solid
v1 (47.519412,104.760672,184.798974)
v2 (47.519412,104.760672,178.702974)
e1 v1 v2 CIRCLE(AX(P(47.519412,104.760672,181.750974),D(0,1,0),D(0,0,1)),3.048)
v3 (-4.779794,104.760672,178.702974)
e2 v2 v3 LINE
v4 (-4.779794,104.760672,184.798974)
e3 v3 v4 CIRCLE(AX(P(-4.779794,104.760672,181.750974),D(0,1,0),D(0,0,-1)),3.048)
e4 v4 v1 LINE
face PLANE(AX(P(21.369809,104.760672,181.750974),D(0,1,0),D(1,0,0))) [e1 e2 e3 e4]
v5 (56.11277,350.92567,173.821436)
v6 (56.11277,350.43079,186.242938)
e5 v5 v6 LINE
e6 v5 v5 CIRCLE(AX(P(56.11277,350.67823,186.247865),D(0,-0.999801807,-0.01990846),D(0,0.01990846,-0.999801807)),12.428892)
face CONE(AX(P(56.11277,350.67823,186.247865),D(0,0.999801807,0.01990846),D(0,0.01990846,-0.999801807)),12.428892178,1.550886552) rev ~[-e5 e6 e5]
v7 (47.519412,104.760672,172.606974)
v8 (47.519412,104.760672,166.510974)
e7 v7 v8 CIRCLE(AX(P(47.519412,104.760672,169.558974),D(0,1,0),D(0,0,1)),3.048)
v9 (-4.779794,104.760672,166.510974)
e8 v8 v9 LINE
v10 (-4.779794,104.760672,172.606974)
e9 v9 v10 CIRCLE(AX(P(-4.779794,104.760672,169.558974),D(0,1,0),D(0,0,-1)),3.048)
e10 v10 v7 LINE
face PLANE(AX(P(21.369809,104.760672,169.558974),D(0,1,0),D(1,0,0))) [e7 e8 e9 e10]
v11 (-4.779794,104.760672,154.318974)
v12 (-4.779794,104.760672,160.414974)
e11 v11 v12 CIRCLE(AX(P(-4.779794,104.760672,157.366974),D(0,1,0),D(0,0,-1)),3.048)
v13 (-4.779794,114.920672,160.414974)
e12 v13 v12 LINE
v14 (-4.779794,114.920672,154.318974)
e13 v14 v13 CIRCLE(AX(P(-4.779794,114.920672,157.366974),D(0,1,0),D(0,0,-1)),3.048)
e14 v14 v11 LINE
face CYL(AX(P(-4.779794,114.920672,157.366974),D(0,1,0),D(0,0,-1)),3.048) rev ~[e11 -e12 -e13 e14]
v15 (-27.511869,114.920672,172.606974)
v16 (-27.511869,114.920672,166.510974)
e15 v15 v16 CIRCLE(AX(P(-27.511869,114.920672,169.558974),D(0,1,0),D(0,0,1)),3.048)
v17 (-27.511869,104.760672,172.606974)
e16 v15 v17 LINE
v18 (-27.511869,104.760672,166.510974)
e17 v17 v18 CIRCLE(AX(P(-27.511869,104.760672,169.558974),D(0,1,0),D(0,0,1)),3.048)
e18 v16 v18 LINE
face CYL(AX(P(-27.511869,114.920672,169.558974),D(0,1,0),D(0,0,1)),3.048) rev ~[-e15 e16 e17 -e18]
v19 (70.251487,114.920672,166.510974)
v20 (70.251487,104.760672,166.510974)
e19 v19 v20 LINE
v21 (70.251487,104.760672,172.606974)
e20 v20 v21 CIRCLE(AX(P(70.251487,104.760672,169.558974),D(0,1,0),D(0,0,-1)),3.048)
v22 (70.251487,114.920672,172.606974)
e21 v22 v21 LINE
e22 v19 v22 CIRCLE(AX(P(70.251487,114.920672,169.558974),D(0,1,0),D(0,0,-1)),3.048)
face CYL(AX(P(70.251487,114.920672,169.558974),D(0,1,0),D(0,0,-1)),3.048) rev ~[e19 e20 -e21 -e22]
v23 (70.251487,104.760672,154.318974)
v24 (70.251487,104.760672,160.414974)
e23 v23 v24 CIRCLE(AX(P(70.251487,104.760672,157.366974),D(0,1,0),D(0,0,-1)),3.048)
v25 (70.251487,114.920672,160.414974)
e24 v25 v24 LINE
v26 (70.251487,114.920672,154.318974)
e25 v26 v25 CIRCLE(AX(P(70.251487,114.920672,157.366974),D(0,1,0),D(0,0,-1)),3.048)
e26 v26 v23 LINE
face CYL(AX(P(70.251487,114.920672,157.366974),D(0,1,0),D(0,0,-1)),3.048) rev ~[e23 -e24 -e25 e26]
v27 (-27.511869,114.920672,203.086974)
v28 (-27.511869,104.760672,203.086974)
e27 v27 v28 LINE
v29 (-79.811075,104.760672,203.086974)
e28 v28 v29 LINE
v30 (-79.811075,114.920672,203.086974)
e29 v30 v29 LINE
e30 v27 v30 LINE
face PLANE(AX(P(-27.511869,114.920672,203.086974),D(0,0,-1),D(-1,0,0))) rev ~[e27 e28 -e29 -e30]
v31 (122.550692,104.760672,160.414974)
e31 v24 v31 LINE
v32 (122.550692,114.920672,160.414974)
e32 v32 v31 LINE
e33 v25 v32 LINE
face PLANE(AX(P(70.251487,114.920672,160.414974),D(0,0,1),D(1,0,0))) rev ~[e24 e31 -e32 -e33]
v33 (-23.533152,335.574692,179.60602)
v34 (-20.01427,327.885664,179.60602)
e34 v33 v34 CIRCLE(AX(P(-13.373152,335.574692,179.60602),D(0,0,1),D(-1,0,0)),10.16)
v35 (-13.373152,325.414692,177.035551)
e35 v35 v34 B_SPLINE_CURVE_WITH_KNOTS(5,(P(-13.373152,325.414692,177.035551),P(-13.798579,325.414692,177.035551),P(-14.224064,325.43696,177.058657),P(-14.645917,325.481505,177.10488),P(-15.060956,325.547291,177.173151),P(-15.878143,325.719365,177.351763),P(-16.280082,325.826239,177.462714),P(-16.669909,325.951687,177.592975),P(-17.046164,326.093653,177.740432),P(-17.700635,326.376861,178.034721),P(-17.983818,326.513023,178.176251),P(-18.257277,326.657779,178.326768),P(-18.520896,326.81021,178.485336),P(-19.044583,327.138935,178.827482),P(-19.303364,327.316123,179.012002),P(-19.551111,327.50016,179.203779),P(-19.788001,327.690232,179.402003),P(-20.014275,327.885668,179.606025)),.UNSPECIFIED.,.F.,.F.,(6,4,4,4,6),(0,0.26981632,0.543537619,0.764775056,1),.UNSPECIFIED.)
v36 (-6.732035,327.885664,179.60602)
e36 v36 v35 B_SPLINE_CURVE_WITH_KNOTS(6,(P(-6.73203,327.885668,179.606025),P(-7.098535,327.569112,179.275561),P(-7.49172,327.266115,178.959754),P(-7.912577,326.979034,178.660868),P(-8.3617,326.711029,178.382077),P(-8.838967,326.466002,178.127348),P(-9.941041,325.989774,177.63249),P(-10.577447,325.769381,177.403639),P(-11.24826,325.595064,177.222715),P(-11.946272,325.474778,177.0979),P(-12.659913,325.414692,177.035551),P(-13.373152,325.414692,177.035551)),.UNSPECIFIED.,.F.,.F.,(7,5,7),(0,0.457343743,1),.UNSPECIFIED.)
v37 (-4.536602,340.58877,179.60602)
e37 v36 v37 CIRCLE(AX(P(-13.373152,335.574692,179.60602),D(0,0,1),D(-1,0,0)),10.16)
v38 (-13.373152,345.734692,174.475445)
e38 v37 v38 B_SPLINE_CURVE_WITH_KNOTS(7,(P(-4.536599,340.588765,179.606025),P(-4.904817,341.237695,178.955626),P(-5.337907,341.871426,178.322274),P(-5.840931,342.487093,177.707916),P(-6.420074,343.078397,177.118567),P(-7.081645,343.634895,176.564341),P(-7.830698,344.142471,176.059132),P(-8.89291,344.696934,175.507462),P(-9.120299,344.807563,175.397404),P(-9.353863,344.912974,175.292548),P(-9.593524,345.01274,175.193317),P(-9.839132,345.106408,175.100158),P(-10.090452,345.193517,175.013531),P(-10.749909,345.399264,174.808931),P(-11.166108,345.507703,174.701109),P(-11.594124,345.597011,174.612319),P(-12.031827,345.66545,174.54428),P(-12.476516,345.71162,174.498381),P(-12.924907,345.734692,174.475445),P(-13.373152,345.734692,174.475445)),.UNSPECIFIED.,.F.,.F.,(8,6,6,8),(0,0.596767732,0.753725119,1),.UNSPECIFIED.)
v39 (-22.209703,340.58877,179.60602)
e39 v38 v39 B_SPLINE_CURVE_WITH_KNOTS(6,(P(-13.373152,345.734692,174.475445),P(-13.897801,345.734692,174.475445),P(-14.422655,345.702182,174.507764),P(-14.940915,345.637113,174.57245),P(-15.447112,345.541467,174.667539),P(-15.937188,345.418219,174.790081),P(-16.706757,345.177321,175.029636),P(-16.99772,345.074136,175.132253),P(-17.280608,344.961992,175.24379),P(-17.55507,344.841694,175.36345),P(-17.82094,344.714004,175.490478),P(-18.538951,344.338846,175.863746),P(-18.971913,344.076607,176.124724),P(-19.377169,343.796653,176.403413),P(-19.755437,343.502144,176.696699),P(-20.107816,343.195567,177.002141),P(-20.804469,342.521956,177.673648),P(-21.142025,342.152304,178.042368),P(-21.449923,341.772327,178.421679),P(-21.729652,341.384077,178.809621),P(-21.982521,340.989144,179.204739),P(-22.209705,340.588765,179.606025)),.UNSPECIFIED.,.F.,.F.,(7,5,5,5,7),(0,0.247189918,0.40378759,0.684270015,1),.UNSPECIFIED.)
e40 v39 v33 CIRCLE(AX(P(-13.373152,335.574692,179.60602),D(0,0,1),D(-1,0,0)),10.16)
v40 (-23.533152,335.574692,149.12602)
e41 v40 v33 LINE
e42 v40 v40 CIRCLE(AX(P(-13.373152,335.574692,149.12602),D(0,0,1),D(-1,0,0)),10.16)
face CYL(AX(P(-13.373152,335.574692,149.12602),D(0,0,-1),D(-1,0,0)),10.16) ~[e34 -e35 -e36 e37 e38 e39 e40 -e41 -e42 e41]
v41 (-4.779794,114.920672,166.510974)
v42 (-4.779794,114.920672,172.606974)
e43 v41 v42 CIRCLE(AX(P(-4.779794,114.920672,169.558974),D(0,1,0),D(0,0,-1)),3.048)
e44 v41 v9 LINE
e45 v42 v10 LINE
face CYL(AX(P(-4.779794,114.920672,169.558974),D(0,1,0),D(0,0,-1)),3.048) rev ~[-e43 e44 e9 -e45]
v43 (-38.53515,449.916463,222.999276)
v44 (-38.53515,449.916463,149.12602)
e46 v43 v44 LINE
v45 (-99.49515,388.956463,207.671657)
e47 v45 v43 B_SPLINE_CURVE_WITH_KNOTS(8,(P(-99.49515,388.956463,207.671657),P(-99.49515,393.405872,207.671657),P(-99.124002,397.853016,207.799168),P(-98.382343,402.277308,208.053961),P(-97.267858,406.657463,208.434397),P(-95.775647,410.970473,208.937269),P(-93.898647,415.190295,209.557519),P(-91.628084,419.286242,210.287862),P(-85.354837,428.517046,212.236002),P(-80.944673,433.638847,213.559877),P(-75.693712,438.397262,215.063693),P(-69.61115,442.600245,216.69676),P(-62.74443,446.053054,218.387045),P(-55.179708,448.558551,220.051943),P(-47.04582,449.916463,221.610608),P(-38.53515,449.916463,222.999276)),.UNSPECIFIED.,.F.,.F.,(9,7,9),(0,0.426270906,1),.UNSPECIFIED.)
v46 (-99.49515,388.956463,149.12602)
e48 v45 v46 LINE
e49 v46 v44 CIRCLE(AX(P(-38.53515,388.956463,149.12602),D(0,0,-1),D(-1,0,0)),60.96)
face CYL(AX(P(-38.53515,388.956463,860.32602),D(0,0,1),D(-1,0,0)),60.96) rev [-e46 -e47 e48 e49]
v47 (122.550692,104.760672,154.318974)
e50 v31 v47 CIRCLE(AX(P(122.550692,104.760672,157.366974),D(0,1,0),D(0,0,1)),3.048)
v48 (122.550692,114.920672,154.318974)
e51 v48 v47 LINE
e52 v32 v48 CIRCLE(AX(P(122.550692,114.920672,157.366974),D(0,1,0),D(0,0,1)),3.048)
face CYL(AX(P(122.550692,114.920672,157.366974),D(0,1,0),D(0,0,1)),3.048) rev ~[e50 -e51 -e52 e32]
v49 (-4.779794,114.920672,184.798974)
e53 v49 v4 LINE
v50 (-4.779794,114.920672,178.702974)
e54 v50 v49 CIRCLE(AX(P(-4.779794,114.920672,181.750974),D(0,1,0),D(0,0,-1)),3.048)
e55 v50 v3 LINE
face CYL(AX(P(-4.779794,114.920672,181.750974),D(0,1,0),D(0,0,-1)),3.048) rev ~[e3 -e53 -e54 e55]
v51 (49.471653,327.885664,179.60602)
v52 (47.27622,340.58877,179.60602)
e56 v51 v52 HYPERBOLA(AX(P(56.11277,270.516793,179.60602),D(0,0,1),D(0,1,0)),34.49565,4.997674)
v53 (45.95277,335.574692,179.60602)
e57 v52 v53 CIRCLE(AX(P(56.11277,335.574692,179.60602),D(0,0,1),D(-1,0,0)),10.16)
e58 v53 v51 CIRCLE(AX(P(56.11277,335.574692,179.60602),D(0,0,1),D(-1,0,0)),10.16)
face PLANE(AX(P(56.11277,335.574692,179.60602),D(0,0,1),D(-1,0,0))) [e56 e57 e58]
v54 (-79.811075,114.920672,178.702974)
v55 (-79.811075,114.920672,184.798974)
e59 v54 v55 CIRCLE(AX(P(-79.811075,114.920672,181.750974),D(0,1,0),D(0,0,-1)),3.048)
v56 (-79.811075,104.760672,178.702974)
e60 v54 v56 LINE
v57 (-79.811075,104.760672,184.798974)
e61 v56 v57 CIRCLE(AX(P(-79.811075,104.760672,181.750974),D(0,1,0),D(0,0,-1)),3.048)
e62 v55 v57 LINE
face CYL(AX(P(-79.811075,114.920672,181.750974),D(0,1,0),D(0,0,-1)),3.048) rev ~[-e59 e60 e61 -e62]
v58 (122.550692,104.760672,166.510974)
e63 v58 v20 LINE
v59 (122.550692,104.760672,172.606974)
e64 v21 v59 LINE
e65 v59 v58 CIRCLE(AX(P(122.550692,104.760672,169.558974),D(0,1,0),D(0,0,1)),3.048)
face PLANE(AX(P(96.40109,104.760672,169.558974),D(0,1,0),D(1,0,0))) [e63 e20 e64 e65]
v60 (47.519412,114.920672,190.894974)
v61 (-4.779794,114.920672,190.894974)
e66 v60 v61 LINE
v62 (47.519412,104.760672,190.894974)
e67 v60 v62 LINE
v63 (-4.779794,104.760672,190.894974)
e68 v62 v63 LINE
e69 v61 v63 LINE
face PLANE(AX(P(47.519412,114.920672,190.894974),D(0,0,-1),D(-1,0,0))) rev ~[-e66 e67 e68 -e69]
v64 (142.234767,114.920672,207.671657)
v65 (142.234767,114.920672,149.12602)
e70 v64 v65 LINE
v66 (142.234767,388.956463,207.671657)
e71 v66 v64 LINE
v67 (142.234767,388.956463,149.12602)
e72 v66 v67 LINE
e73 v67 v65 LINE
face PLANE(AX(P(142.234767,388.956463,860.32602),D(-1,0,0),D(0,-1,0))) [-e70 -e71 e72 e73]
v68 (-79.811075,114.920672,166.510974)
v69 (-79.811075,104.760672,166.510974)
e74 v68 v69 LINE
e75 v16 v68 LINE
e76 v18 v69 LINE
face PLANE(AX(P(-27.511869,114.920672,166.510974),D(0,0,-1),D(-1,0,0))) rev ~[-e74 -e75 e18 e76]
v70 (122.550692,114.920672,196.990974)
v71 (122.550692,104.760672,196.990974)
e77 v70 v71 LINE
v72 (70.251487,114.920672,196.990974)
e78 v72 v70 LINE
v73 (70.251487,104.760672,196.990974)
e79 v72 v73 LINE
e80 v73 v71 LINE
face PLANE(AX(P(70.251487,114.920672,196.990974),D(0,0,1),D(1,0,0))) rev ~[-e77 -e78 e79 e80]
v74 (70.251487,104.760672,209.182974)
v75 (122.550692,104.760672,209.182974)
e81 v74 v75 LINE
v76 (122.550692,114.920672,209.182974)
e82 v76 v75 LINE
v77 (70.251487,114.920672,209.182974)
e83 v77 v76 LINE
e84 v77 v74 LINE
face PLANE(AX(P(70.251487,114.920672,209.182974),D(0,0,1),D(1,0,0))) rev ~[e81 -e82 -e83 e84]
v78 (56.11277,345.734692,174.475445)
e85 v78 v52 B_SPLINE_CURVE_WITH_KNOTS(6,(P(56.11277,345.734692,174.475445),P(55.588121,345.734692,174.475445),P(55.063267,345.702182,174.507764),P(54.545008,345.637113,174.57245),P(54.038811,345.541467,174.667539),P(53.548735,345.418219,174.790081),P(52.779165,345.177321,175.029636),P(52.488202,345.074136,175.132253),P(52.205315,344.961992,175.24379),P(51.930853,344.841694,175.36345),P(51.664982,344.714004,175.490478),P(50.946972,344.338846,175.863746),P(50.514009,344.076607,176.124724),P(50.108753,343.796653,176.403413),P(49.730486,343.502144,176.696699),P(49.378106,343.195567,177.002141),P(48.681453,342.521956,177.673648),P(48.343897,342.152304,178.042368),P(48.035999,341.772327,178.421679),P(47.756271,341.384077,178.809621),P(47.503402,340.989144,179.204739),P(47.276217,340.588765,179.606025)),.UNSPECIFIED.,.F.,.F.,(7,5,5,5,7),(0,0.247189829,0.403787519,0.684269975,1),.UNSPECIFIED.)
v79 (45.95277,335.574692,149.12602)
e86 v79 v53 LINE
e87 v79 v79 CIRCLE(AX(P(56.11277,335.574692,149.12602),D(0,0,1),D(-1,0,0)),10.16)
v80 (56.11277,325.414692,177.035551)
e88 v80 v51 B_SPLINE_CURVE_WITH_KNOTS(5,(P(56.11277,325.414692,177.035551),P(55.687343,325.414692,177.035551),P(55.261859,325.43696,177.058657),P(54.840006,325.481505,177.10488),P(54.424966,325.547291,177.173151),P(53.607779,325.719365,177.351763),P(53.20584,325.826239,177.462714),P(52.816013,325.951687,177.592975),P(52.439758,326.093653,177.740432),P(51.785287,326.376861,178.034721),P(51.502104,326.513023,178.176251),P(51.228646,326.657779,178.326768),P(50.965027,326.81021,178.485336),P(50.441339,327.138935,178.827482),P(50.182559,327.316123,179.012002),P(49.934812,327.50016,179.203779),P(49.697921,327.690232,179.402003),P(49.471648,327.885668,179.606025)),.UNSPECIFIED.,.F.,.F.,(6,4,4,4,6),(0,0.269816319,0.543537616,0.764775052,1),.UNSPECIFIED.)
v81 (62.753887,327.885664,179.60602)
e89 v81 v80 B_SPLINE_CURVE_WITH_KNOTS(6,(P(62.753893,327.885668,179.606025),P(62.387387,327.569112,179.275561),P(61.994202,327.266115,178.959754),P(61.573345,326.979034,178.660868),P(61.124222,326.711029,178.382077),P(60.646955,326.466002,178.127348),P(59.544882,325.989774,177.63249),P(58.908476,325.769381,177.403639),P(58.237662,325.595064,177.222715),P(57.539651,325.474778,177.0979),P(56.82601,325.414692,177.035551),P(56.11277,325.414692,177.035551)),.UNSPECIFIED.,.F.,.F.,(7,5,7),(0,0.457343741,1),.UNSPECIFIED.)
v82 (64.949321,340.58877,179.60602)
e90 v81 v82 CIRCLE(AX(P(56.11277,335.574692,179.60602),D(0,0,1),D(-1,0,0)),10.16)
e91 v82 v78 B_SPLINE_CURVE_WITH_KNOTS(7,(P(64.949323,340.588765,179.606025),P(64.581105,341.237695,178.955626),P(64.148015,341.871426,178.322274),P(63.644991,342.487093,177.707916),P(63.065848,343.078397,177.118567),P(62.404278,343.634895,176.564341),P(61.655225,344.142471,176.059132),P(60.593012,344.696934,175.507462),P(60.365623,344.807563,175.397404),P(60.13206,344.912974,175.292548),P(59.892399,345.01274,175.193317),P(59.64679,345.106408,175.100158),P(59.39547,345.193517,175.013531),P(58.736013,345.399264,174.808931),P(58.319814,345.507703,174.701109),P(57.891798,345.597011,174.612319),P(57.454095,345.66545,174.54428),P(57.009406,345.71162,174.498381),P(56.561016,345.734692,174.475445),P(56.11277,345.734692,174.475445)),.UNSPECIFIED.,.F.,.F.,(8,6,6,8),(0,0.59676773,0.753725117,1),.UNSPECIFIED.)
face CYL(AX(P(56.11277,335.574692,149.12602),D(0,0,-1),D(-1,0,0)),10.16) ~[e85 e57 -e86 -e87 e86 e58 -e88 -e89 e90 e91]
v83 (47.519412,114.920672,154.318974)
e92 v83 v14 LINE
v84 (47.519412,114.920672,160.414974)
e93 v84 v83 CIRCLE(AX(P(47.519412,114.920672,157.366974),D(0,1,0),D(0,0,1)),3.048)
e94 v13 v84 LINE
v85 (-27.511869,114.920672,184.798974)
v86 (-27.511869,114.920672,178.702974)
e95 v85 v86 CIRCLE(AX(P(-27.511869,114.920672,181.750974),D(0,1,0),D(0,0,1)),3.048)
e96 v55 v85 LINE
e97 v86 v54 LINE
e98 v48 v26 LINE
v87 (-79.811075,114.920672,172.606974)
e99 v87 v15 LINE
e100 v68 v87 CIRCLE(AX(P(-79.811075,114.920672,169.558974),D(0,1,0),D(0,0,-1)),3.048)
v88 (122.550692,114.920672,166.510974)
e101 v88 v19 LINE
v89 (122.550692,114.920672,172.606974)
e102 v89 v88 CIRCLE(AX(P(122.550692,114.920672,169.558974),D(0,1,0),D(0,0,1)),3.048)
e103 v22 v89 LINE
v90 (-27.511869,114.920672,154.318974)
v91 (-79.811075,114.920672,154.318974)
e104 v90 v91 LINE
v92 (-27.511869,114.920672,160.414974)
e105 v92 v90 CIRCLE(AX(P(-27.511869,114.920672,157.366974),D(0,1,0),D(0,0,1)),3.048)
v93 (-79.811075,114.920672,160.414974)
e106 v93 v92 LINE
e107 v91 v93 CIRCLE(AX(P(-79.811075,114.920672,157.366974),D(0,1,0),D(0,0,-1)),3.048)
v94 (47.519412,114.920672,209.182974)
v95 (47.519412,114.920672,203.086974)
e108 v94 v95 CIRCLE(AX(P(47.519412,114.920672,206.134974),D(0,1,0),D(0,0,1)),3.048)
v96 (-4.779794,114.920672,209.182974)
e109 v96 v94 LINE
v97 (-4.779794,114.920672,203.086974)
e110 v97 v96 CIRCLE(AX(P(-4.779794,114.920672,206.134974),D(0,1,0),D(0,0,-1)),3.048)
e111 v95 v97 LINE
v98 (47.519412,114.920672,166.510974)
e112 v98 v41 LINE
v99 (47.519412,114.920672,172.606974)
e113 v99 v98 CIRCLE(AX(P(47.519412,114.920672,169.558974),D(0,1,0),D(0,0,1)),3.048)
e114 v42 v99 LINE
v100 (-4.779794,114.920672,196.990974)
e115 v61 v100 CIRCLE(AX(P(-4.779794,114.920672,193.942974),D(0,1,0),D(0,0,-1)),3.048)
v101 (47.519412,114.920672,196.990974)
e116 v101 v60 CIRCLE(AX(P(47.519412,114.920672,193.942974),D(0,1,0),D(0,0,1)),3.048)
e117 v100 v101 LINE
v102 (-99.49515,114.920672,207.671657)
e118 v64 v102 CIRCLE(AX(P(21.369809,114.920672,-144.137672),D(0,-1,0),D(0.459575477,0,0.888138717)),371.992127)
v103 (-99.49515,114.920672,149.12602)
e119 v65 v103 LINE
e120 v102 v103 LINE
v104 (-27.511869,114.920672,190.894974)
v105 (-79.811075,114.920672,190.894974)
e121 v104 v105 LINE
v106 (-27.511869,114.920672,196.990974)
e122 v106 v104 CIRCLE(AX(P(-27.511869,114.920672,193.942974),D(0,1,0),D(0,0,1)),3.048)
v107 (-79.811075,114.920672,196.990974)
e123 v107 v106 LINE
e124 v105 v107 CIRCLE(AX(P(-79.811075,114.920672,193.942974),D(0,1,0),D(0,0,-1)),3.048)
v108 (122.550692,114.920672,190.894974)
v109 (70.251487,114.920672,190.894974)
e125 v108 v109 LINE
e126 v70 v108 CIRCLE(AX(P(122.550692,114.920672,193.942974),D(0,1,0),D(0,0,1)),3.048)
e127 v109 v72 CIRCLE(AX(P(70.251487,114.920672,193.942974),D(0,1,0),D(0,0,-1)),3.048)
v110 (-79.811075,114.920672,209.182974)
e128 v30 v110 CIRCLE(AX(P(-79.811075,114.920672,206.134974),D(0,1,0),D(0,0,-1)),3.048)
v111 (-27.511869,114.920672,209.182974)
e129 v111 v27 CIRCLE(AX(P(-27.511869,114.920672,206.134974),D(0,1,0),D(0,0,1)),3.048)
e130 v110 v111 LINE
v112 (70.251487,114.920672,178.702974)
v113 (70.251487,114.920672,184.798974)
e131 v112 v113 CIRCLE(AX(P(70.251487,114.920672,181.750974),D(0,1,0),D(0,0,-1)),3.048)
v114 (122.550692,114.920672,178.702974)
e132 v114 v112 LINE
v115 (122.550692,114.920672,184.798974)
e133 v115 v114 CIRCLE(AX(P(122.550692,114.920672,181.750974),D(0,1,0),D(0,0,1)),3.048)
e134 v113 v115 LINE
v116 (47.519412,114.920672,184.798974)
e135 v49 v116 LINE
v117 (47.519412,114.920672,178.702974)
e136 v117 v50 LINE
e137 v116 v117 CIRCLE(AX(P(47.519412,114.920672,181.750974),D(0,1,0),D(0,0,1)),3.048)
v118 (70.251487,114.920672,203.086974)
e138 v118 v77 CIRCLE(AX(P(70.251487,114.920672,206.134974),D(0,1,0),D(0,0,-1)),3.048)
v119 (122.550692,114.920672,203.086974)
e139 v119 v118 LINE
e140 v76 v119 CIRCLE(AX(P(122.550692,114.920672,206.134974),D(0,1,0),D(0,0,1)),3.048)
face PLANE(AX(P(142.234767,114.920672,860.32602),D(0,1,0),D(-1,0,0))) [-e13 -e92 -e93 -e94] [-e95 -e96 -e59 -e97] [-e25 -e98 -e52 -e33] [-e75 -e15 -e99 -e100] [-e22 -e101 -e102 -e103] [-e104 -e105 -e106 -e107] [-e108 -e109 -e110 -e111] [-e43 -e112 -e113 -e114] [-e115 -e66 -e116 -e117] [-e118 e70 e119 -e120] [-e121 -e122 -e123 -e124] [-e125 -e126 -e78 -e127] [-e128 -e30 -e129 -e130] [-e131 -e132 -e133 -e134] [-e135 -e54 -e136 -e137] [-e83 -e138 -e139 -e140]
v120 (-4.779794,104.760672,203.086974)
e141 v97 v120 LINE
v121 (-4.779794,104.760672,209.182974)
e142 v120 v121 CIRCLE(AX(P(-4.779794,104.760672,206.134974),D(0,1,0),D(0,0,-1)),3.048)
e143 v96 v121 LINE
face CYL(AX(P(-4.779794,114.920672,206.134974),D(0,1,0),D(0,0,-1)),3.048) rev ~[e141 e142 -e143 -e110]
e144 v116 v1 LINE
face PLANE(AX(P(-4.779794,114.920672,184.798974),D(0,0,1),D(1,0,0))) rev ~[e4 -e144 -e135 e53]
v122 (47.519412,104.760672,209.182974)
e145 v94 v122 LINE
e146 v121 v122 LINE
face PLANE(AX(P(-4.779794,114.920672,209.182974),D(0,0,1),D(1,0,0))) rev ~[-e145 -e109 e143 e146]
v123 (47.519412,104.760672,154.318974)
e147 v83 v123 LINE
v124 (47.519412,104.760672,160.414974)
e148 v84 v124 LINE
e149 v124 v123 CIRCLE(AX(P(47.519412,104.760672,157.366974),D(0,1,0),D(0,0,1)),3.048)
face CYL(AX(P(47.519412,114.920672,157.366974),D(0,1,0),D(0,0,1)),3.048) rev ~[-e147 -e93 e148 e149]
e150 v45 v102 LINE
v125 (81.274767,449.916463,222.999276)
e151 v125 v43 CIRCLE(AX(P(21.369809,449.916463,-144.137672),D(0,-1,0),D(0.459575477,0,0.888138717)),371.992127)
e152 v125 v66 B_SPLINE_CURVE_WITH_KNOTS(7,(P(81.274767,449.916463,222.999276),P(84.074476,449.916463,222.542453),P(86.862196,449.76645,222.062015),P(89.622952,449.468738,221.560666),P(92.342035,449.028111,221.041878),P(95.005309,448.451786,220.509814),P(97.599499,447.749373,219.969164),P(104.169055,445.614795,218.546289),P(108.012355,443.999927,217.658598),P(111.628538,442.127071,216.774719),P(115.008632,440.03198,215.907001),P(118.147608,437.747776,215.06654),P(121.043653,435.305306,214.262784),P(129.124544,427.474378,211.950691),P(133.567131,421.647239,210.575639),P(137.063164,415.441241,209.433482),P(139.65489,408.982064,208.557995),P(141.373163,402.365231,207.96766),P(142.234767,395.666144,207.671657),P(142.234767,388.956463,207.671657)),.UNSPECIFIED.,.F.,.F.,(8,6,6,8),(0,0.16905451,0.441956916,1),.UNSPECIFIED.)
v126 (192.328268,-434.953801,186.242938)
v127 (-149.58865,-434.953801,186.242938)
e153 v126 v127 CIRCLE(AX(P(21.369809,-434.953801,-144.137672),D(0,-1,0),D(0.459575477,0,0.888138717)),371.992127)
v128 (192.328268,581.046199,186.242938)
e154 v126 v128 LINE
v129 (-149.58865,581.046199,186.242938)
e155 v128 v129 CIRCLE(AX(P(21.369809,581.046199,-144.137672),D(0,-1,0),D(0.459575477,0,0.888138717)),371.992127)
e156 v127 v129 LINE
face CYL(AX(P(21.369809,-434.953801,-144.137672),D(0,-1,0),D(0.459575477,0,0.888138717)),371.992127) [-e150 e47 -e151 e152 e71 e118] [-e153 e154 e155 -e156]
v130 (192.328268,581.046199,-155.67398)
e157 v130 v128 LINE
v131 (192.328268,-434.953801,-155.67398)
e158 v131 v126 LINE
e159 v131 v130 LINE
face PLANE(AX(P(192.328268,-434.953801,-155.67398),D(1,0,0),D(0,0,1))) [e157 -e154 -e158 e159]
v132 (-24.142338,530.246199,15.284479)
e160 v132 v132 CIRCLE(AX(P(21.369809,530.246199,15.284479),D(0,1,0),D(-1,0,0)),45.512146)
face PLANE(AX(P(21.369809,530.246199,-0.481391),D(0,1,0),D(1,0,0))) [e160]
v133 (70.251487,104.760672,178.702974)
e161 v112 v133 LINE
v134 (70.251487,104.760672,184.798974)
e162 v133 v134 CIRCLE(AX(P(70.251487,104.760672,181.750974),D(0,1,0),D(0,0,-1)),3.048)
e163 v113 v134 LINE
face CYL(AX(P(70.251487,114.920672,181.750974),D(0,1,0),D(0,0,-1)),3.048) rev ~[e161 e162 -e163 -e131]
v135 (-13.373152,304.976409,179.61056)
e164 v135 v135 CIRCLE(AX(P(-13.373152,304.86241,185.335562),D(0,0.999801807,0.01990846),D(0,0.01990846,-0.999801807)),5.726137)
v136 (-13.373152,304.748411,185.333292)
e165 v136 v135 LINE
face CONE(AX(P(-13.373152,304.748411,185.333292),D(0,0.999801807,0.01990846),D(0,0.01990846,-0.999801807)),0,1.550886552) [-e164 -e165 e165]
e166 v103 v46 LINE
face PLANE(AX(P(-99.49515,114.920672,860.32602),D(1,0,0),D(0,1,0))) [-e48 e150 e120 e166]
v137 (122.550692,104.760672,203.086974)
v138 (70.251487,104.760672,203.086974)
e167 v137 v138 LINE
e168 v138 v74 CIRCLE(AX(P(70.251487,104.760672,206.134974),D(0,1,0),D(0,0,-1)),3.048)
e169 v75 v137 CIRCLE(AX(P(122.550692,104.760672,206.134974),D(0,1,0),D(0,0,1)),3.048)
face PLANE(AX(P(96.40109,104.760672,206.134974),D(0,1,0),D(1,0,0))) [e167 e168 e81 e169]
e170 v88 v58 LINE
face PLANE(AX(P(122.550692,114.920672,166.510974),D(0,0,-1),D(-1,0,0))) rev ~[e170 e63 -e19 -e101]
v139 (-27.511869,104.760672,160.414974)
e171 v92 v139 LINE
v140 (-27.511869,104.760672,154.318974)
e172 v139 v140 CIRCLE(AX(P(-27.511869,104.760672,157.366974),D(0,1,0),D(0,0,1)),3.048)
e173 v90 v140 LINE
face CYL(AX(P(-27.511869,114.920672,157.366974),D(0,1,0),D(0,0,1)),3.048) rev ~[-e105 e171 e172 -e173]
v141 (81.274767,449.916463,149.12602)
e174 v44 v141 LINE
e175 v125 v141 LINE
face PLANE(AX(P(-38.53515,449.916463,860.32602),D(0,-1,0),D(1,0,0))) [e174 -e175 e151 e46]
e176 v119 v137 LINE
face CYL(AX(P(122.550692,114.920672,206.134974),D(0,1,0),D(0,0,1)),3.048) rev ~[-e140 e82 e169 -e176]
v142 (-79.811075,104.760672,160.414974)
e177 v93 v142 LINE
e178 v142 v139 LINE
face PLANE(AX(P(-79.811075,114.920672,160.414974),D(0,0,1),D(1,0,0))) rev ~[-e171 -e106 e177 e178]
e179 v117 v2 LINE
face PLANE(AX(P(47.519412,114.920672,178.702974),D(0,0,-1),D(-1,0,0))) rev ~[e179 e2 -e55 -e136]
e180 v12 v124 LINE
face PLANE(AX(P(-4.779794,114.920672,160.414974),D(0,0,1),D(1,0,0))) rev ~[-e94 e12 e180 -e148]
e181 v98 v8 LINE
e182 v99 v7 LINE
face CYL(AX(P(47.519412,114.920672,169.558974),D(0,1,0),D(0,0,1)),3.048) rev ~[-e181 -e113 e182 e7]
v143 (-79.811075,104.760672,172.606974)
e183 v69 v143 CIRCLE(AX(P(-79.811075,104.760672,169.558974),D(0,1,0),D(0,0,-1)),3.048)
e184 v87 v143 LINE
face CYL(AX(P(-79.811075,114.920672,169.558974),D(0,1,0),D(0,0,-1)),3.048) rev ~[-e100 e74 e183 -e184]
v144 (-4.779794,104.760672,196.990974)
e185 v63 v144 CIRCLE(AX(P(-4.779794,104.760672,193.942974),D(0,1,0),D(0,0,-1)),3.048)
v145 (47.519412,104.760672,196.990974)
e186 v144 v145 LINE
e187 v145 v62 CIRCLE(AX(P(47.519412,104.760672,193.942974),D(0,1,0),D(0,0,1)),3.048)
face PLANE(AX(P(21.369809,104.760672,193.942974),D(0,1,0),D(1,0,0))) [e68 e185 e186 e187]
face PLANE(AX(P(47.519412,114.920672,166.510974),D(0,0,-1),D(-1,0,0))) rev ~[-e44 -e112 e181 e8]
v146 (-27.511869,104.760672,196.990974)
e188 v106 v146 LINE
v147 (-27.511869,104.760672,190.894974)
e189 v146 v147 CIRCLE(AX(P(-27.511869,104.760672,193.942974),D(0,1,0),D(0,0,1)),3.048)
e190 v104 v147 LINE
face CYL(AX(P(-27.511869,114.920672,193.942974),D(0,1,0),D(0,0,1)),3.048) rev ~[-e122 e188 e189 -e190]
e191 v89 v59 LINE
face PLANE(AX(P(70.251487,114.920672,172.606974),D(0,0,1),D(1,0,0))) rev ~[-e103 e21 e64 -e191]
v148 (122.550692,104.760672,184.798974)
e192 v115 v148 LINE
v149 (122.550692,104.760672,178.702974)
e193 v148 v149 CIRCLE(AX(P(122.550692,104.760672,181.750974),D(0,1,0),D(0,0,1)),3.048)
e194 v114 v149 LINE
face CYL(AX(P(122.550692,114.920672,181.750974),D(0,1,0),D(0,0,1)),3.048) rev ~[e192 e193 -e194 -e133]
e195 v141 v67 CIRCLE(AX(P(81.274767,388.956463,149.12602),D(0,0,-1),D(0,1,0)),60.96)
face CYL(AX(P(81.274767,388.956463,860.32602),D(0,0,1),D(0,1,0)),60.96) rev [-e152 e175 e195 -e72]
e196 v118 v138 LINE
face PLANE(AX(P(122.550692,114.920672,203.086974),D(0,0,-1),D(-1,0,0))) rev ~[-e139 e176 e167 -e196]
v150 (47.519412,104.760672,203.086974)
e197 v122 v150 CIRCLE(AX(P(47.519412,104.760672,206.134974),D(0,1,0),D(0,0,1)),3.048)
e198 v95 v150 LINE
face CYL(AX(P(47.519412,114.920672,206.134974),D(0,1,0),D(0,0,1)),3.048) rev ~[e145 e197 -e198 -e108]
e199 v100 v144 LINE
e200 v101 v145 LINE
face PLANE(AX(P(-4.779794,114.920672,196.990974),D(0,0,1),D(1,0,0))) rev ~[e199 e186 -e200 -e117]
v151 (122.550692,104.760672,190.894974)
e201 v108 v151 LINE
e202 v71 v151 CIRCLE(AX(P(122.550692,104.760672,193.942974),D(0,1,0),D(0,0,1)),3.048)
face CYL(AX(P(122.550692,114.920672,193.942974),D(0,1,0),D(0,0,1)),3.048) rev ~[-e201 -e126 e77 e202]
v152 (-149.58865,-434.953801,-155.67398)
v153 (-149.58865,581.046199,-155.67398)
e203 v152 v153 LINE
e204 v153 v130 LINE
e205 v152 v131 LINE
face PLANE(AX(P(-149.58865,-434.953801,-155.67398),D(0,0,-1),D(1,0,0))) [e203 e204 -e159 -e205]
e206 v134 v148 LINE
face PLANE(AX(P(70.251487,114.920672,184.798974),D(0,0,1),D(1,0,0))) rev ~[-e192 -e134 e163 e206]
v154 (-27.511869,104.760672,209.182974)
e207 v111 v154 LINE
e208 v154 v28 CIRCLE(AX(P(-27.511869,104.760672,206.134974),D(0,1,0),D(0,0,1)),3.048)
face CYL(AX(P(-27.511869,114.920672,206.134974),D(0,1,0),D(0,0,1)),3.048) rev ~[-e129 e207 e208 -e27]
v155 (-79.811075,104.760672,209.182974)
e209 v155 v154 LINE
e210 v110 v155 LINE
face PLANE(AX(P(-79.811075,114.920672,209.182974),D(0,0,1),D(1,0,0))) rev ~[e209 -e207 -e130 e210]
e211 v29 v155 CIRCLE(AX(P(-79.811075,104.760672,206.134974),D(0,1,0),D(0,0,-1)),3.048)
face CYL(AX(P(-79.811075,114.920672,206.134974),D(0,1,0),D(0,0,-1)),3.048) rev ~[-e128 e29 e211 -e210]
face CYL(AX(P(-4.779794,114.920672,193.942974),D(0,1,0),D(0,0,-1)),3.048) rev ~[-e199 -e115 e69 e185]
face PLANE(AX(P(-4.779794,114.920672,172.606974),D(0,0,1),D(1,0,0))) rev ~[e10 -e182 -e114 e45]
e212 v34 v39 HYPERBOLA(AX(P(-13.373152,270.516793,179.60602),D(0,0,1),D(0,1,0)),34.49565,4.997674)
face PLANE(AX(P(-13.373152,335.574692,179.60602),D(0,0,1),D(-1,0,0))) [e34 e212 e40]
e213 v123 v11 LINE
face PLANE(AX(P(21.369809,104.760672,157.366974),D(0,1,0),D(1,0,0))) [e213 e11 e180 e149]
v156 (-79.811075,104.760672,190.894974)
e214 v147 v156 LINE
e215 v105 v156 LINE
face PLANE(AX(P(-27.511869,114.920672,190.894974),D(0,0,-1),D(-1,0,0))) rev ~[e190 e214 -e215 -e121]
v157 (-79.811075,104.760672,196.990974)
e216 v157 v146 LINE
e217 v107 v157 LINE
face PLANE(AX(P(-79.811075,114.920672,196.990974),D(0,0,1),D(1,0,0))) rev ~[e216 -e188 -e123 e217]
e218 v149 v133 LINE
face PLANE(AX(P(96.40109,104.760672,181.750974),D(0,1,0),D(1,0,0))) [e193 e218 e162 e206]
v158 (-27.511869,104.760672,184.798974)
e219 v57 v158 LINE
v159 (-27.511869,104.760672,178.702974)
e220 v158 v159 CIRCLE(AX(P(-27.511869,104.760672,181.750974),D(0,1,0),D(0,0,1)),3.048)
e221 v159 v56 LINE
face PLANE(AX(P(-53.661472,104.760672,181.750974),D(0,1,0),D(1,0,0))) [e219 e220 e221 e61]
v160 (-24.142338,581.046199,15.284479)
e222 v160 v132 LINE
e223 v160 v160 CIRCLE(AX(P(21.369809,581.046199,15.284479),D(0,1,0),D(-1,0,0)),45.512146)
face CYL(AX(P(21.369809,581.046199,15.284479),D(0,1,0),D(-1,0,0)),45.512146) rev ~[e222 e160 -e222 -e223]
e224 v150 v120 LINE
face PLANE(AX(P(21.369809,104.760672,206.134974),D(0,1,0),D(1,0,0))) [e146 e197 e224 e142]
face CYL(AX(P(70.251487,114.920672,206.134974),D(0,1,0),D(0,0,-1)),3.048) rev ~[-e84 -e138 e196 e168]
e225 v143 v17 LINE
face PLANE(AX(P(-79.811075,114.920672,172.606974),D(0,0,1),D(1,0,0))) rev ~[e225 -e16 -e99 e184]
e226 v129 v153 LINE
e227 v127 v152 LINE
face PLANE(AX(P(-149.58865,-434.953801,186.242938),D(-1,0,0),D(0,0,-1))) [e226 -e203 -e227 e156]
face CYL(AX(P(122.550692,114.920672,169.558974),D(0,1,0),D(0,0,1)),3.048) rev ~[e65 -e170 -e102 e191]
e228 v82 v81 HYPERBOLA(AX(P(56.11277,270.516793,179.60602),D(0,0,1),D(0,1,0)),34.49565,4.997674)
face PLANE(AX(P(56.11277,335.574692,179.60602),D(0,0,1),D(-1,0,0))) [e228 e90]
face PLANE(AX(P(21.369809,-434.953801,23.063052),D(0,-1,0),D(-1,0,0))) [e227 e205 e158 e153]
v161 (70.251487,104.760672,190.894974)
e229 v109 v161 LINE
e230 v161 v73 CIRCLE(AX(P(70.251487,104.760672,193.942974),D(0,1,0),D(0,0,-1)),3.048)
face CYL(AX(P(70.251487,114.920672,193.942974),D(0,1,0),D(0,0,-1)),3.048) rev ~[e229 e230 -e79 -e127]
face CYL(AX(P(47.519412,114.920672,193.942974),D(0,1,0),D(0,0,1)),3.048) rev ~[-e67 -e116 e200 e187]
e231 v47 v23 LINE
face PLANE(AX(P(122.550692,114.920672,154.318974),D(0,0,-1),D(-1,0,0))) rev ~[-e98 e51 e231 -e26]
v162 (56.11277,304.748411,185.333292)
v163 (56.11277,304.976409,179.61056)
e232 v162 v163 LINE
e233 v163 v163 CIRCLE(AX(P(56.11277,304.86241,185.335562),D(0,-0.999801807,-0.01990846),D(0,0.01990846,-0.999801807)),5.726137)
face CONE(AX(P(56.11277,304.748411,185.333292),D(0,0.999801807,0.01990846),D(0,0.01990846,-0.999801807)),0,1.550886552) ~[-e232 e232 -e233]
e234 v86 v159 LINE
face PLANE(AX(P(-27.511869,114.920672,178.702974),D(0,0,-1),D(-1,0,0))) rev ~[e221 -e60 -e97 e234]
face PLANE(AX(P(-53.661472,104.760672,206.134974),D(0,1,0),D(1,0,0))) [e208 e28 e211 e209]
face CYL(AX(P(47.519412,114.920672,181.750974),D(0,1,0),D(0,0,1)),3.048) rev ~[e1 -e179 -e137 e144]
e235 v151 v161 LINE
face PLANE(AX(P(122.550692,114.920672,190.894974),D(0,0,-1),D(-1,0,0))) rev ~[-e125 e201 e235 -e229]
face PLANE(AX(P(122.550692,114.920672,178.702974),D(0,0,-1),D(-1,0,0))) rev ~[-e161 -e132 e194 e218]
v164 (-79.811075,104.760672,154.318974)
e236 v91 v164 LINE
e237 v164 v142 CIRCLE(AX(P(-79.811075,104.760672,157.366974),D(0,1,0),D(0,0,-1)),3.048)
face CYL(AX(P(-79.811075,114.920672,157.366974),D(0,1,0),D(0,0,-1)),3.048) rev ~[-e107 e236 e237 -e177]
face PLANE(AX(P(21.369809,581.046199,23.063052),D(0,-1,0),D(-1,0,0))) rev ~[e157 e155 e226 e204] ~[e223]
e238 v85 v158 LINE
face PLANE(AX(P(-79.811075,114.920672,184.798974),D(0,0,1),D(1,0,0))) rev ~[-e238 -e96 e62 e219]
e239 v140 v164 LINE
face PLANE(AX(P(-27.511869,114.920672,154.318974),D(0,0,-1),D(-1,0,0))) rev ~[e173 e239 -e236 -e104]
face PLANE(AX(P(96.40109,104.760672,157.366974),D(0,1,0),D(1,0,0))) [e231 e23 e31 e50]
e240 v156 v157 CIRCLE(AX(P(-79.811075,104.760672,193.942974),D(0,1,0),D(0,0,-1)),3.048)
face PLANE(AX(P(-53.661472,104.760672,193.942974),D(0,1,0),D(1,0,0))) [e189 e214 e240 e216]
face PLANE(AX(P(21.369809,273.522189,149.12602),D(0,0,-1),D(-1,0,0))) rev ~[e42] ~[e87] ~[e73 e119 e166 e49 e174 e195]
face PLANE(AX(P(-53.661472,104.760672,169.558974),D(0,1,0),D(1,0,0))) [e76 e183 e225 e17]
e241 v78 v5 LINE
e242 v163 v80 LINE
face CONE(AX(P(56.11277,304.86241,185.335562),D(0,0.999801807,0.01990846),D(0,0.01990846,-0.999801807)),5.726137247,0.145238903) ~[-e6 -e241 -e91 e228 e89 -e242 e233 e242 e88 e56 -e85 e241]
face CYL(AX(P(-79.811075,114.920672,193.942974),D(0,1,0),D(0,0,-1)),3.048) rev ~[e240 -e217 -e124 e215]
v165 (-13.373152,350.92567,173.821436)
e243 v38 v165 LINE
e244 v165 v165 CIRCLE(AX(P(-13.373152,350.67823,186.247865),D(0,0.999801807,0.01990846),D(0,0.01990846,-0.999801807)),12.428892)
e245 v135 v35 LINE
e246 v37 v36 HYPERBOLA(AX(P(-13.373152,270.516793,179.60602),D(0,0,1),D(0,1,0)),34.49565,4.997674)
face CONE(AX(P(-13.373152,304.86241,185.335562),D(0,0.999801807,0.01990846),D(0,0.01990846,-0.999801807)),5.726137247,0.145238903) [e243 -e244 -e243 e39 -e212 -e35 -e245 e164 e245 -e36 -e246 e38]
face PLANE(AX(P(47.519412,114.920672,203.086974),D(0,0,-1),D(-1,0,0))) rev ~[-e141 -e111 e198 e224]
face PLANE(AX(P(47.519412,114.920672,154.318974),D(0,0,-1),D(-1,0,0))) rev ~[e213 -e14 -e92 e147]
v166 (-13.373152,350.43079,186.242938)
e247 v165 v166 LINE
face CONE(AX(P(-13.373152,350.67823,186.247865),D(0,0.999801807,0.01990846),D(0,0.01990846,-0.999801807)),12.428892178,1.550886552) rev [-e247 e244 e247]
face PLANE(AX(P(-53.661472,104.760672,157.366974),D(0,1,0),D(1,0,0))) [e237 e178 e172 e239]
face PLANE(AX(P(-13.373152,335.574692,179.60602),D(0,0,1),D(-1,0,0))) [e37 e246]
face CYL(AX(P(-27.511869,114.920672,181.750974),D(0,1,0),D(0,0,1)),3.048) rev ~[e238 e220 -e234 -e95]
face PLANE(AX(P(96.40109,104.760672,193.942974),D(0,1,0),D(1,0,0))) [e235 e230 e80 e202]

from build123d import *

# Parameters (mm, degrees)
BOSS_EXTRUDE1_DEPTH = 127
CUT_EXTRUDE1_DEPTH  = 88.9
CUT_EXTRUDE2_DEPTH  = 1.27
CUT_EXTRUDE3_DEPTH  = 6.35
SKETCH6_R           = 1.27
BOSS_EXTRUDE2_DEPTH = 3.81
SCALE1_SCALE        = 10
SCALE2_SCALE        = 0.8


with BuildPart() as part:
    # Sketch1 → Boss-Extrude1 (new body)
    with BuildSketch(Plane(origin=(0, 0, 0), x_dir=(1, 0, 0), z_dir=(0, 1, 0))):
        with BuildLine():
            Line((0, 0), (42.739614803, 0))
            Line((42.739614803, 0), (42.739614803, -42.739614803))
            ThreePointArc((42.739614803, -42.739614803), (21.369807402, -47.941054373), (0, -42.739614803))
            Line((0, -42.739614803), (0, 0))
        make_face()
    extrude(amount=BOSS_EXTRUDE1_DEPTH)

    # Sketch2 → Cut-Extrude1 (cut)
    with BuildSketch(Plane.XY.offset(127)):
        with BuildLine():
            Line((13.881687598, 110.608783011), (28.857927206, 110.608783011))
            ThreePointArc((28.857927206, 110.608783011), (34.246080878, 108.376936683), (36.477927206, 102.988783011))
            Line((36.477927206, 102.988783011), (36.477927206, 68.734309223))
            Line((36.477927206, 68.734309223), (6.261687598, 68.734309223))
            Line((6.261687598, 68.734309223), (6.261687598, 102.988783011))
            ThreePointArc((6.261687598, 102.988783011), (8.493533925, 108.376936683), (13.881687598, 110.608783011))
        make_face()
    extrude(amount=-CUT_EXTRUDE1_DEPTH, mode=Mode.SUBTRACT)

    # Sketch4 → Cut-Extrude2 (cut)
    with BuildSketch(Plane(origin=(0, 68.734309223, 0), x_dir=(1, 0, 0), z_dir=(0, 1, 0))):
        with BuildLine():
            Line((18.101107041, -45.607119247), (24.638507762, -45.607119247))
            ThreePointArc((24.638507762, -45.607119247), (25.019507762, -45.226119247), (24.638507762, -44.845119247))
            Line((24.638507762, -44.845119247), (18.101107041, -44.845119247))
            ThreePointArc((18.101107041, -44.845119247), (17.720107041, -45.226119247), (18.101107041, -45.607119247))
        make_face()
        with BuildLine():
            Line((8.722196959, -45.607119247), (15.25959768, -45.607119247))
            ThreePointArc((15.25959768, -45.607119247), (15.64059768, -45.226119247), (15.25959768, -44.845119247))
            Line((15.25959768, -44.845119247), (8.722196959, -44.845119247))
            ThreePointArc((8.722196959, -44.845119247), (8.341196959, -45.226119247), (8.722196959, -45.607119247))
        make_face()
        with BuildLine():
            Line((8.722196959, -42.559119247), (15.25959768, -42.559119247))
            ThreePointArc((15.25959768, -42.559119247), (15.64059768, -42.178119247), (15.25959768, -41.797119247))
            Line((15.25959768, -41.797119247), (8.722196959, -41.797119247))
            ThreePointArc((8.722196959, -41.797119247), (8.341196959, -42.178119247), (8.722196959, -42.559119247))
        make_face()
        with BuildLine():
            Line((8.722196959, -44.083119247), (15.25959768, -44.083119247))
            ThreePointArc((15.25959768, -44.083119247), (15.64059768, -43.702119247), (15.25959768, -43.321119247))
            Line((15.25959768, -43.321119247), (8.722196959, -43.321119247))
            ThreePointArc((8.722196959, -43.321119247), (8.341196959, -43.702119247), (8.722196959, -44.083119247))
        make_face()
        with BuildLine():
            Line((18.101107041, -44.083119247), (24.638507762, -44.083119247))
            ThreePointArc((24.638507762, -44.083119247), (25.019507762, -43.702119247), (24.638507762, -43.321119247))
            Line((24.638507762, -43.321119247), (18.101107041, -43.321119247))
            ThreePointArc((18.101107041, -43.321119247), (17.720107041, -43.702119247), (18.101107041, -44.083119247))
        make_face()
        with BuildLine():
            Line((18.101107041, -42.559119247), (24.638507762, -42.559119247))
            ThreePointArc((24.638507762, -42.559119247), (25.019507762, -42.178119247), (24.638507762, -41.797119247))
            Line((24.638507762, -41.797119247), (18.101107041, -41.797119247))
            ThreePointArc((18.101107041, -41.797119247), (17.720107041, -42.178119247), (18.101107041, -42.559119247))
        make_face()
        with BuildLine():
            Line((18.101107041, -41.035119247), (24.638507762, -41.035119247))
            ThreePointArc((24.638507762, -41.035119247), (25.019507762, -40.654119247), (24.638507762, -40.273119247))
            Line((24.638507762, -40.273119247), (18.101107041, -40.273119247))
            ThreePointArc((18.101107041, -40.273119247), (17.720107041, -40.654119247), (18.101107041, -41.035119247))
        make_face()
        with BuildLine():
            Line((18.101107041, -39.511119247), (24.638507762, -39.511119247))
            ThreePointArc((24.638507762, -39.511119247), (25.019507762, -39.130119247), (24.638507762, -38.749119247))
            Line((24.638507762, -38.749119247), (18.101107041, -38.749119247))
            ThreePointArc((18.101107041, -38.749119247), (17.720107041, -39.130119247), (18.101107041, -39.511119247))
        make_face()
        with BuildLine():
            Line((8.722196959, -41.035119247), (15.25959768, -41.035119247))
            ThreePointArc((15.25959768, -41.035119247), (15.64059768, -40.654119247), (15.25959768, -40.273119247))
            Line((15.25959768, -40.273119247), (8.722196959, -40.273119247))
            ThreePointArc((8.722196959, -40.273119247), (8.341196959, -40.654119247), (8.722196959, -41.035119247))
        make_face()
        with BuildLine():
            Line((8.722196959, -39.511119247), (15.25959768, -39.511119247))
            ThreePointArc((15.25959768, -39.511119247), (15.64059768, -39.130119247), (15.25959768, -38.749119247))
            Line((15.25959768, -38.749119247), (8.722196959, -38.749119247))
            ThreePointArc((8.722196959, -38.749119247), (8.341196959, -39.130119247), (8.722196959, -39.511119247))
        make_face()
        with BuildLine():
            Line((27.480017123, -44.083119247), (34.017417844, -44.083119247))
            ThreePointArc((34.017417844, -44.083119247), (34.398417844, -43.702119247), (34.017417844, -43.321119247))
            Line((34.017417844, -43.321119247), (27.480017123, -43.321119247))
            ThreePointArc((27.480017123, -43.321119247), (27.099017123, -43.702119247), (27.480017123, -44.083119247))
        make_face()
        with BuildLine():
            Line((27.480017123, -42.559119247), (34.017417844, -42.559119247))
            ThreePointArc((34.017417844, -42.559119247), (34.398417844, -42.178119247), (34.017417844, -41.797119247))
            Line((34.017417844, -41.797119247), (27.480017123, -41.797119247))
            ThreePointArc((27.480017123, -41.797119247), (27.099017123, -42.178119247), (27.480017123, -42.559119247))
        make_face()
        with BuildLine():
            Line((27.480017123, -41.035119247), (34.017417844, -41.035119247))
            ThreePointArc((34.017417844, -41.035119247), (34.398417844, -40.654119247), (34.017417844, -40.273119247))
            Line((34.017417844, -40.273119247), (27.480017123, -40.273119247))
            ThreePointArc((27.480017123, -40.273119247), (27.099017123, -40.654119247), (27.480017123, -41.035119247))
        make_face()
        with BuildLine():
            Line((27.480017123, -39.511119247), (34.017417844, -39.511119247))
            ThreePointArc((34.017417844, -39.511119247), (34.398417844, -39.130119247), (34.017417844, -38.749119247))
            Line((34.017417844, -38.749119247), (27.480017123, -38.749119247))
            ThreePointArc((27.480017123, -38.749119247), (27.099017123, -39.130119247), (27.480017123, -39.511119247))
        make_face()
        with BuildLine():
            ThreePointArc((27.480017123, -44.845119247), (27.099017123, -45.226119247), (27.480017123, -45.607119247))
            Line((27.480017123, -45.607119247), (34.017417844, -45.607119247))
            ThreePointArc((34.017417844, -45.607119247), (34.398417844, -45.226119247), (34.017417844, -44.845119247))
            Line((34.017417844, -44.845119247), (27.480017123, -44.845119247))
        make_face()
    extrude(amount=-CUT_EXTRUDE2_DEPTH, mode=Mode.SUBTRACT)

    # Sketch5 → Cut-Extrude3 (cut)
    with BuildSketch(Plane(origin=(0, 127, 0), x_dir=(1, 0, 0), z_dir=(0, 1, 0))):
        with BuildLine():
            ThreePointArc((27.058825704, -21.369807402), (21.369807402, -15.680789099), (15.680789099, -21.369807402))
            Line((15.680789099, -21.369807402), (27.058825704, -21.369807402))
        make_face()
        with BuildLine():
            Line((27.058825704, -21.369807402), (15.680789099, -21.369807402))
            ThreePointArc((15.680789099, -21.369807402), (21.369807402, -27.058825704), (27.058825704, -21.369807402))
        make_face()
    extrude(amount=-CUT_EXTRUDE3_DEPTH, mode=Mode.SUBTRACT)

    # Sketch6 → Boss-Extrude2 (add)
    with BuildSketch(Plane.XY.offset(38.1)):
        with Locations(Location((17.026937254, 96.316061715, 0), (0, 0, 180))):
            Circle(SKETCH6_R)
        with Locations(Location((25.712677549, 96.316061715, 0), (0, 0, 180))):
            Circle(SKETCH6_R)
    extrude(amount=BOSS_EXTRUDE2_DEPTH)

    # Sketch8 → Revolve1 (revolve)
    with BuildSketch(Plane.YZ.offset(17.026937254), mode=Mode.PRIVATE) as revolve1_sk:
        Polygon((92.462776609, 42.625909045), (92.462776609, 43.341818089), (98.173073883, 44.293534302), (98.173073883, 42.739614803), align=None)
    revolve1 = revolve(revolve1_sk.sketch.rotate(Axis((17.026937254, 92.462776609, 42.625909045), (0, 0.9998018069764348, 0.01990845967561906)), 180), axis=Axis((17.026937254, 92.462776609, 42.625909045), (0, 0.9998018069764348, 0.01990845967561906)))

    # Mirror1: Revolve1 across plane
    add(revolve1.mirror(Plane.ZY.offset(-21.369807402)))


with BuildPart() as part_1:
    # Scale1: scaled about (21.369807188, 62.136257344, 22.239140039)
    add(part.part.scale(SCALE1_SCALE).moved(Location((-192.328264692, -559.226316096, -200.152260351))))


with BuildPart() as part_2:
    # Scale2: scaled about (21.369807187, 62.136257344, 22.239140034)
    add(part_1.part.scale(SCALE2_SCALE).moved(Location((4.273961437, 12.427251469, 4.447828007))))


solid = part_2.part
